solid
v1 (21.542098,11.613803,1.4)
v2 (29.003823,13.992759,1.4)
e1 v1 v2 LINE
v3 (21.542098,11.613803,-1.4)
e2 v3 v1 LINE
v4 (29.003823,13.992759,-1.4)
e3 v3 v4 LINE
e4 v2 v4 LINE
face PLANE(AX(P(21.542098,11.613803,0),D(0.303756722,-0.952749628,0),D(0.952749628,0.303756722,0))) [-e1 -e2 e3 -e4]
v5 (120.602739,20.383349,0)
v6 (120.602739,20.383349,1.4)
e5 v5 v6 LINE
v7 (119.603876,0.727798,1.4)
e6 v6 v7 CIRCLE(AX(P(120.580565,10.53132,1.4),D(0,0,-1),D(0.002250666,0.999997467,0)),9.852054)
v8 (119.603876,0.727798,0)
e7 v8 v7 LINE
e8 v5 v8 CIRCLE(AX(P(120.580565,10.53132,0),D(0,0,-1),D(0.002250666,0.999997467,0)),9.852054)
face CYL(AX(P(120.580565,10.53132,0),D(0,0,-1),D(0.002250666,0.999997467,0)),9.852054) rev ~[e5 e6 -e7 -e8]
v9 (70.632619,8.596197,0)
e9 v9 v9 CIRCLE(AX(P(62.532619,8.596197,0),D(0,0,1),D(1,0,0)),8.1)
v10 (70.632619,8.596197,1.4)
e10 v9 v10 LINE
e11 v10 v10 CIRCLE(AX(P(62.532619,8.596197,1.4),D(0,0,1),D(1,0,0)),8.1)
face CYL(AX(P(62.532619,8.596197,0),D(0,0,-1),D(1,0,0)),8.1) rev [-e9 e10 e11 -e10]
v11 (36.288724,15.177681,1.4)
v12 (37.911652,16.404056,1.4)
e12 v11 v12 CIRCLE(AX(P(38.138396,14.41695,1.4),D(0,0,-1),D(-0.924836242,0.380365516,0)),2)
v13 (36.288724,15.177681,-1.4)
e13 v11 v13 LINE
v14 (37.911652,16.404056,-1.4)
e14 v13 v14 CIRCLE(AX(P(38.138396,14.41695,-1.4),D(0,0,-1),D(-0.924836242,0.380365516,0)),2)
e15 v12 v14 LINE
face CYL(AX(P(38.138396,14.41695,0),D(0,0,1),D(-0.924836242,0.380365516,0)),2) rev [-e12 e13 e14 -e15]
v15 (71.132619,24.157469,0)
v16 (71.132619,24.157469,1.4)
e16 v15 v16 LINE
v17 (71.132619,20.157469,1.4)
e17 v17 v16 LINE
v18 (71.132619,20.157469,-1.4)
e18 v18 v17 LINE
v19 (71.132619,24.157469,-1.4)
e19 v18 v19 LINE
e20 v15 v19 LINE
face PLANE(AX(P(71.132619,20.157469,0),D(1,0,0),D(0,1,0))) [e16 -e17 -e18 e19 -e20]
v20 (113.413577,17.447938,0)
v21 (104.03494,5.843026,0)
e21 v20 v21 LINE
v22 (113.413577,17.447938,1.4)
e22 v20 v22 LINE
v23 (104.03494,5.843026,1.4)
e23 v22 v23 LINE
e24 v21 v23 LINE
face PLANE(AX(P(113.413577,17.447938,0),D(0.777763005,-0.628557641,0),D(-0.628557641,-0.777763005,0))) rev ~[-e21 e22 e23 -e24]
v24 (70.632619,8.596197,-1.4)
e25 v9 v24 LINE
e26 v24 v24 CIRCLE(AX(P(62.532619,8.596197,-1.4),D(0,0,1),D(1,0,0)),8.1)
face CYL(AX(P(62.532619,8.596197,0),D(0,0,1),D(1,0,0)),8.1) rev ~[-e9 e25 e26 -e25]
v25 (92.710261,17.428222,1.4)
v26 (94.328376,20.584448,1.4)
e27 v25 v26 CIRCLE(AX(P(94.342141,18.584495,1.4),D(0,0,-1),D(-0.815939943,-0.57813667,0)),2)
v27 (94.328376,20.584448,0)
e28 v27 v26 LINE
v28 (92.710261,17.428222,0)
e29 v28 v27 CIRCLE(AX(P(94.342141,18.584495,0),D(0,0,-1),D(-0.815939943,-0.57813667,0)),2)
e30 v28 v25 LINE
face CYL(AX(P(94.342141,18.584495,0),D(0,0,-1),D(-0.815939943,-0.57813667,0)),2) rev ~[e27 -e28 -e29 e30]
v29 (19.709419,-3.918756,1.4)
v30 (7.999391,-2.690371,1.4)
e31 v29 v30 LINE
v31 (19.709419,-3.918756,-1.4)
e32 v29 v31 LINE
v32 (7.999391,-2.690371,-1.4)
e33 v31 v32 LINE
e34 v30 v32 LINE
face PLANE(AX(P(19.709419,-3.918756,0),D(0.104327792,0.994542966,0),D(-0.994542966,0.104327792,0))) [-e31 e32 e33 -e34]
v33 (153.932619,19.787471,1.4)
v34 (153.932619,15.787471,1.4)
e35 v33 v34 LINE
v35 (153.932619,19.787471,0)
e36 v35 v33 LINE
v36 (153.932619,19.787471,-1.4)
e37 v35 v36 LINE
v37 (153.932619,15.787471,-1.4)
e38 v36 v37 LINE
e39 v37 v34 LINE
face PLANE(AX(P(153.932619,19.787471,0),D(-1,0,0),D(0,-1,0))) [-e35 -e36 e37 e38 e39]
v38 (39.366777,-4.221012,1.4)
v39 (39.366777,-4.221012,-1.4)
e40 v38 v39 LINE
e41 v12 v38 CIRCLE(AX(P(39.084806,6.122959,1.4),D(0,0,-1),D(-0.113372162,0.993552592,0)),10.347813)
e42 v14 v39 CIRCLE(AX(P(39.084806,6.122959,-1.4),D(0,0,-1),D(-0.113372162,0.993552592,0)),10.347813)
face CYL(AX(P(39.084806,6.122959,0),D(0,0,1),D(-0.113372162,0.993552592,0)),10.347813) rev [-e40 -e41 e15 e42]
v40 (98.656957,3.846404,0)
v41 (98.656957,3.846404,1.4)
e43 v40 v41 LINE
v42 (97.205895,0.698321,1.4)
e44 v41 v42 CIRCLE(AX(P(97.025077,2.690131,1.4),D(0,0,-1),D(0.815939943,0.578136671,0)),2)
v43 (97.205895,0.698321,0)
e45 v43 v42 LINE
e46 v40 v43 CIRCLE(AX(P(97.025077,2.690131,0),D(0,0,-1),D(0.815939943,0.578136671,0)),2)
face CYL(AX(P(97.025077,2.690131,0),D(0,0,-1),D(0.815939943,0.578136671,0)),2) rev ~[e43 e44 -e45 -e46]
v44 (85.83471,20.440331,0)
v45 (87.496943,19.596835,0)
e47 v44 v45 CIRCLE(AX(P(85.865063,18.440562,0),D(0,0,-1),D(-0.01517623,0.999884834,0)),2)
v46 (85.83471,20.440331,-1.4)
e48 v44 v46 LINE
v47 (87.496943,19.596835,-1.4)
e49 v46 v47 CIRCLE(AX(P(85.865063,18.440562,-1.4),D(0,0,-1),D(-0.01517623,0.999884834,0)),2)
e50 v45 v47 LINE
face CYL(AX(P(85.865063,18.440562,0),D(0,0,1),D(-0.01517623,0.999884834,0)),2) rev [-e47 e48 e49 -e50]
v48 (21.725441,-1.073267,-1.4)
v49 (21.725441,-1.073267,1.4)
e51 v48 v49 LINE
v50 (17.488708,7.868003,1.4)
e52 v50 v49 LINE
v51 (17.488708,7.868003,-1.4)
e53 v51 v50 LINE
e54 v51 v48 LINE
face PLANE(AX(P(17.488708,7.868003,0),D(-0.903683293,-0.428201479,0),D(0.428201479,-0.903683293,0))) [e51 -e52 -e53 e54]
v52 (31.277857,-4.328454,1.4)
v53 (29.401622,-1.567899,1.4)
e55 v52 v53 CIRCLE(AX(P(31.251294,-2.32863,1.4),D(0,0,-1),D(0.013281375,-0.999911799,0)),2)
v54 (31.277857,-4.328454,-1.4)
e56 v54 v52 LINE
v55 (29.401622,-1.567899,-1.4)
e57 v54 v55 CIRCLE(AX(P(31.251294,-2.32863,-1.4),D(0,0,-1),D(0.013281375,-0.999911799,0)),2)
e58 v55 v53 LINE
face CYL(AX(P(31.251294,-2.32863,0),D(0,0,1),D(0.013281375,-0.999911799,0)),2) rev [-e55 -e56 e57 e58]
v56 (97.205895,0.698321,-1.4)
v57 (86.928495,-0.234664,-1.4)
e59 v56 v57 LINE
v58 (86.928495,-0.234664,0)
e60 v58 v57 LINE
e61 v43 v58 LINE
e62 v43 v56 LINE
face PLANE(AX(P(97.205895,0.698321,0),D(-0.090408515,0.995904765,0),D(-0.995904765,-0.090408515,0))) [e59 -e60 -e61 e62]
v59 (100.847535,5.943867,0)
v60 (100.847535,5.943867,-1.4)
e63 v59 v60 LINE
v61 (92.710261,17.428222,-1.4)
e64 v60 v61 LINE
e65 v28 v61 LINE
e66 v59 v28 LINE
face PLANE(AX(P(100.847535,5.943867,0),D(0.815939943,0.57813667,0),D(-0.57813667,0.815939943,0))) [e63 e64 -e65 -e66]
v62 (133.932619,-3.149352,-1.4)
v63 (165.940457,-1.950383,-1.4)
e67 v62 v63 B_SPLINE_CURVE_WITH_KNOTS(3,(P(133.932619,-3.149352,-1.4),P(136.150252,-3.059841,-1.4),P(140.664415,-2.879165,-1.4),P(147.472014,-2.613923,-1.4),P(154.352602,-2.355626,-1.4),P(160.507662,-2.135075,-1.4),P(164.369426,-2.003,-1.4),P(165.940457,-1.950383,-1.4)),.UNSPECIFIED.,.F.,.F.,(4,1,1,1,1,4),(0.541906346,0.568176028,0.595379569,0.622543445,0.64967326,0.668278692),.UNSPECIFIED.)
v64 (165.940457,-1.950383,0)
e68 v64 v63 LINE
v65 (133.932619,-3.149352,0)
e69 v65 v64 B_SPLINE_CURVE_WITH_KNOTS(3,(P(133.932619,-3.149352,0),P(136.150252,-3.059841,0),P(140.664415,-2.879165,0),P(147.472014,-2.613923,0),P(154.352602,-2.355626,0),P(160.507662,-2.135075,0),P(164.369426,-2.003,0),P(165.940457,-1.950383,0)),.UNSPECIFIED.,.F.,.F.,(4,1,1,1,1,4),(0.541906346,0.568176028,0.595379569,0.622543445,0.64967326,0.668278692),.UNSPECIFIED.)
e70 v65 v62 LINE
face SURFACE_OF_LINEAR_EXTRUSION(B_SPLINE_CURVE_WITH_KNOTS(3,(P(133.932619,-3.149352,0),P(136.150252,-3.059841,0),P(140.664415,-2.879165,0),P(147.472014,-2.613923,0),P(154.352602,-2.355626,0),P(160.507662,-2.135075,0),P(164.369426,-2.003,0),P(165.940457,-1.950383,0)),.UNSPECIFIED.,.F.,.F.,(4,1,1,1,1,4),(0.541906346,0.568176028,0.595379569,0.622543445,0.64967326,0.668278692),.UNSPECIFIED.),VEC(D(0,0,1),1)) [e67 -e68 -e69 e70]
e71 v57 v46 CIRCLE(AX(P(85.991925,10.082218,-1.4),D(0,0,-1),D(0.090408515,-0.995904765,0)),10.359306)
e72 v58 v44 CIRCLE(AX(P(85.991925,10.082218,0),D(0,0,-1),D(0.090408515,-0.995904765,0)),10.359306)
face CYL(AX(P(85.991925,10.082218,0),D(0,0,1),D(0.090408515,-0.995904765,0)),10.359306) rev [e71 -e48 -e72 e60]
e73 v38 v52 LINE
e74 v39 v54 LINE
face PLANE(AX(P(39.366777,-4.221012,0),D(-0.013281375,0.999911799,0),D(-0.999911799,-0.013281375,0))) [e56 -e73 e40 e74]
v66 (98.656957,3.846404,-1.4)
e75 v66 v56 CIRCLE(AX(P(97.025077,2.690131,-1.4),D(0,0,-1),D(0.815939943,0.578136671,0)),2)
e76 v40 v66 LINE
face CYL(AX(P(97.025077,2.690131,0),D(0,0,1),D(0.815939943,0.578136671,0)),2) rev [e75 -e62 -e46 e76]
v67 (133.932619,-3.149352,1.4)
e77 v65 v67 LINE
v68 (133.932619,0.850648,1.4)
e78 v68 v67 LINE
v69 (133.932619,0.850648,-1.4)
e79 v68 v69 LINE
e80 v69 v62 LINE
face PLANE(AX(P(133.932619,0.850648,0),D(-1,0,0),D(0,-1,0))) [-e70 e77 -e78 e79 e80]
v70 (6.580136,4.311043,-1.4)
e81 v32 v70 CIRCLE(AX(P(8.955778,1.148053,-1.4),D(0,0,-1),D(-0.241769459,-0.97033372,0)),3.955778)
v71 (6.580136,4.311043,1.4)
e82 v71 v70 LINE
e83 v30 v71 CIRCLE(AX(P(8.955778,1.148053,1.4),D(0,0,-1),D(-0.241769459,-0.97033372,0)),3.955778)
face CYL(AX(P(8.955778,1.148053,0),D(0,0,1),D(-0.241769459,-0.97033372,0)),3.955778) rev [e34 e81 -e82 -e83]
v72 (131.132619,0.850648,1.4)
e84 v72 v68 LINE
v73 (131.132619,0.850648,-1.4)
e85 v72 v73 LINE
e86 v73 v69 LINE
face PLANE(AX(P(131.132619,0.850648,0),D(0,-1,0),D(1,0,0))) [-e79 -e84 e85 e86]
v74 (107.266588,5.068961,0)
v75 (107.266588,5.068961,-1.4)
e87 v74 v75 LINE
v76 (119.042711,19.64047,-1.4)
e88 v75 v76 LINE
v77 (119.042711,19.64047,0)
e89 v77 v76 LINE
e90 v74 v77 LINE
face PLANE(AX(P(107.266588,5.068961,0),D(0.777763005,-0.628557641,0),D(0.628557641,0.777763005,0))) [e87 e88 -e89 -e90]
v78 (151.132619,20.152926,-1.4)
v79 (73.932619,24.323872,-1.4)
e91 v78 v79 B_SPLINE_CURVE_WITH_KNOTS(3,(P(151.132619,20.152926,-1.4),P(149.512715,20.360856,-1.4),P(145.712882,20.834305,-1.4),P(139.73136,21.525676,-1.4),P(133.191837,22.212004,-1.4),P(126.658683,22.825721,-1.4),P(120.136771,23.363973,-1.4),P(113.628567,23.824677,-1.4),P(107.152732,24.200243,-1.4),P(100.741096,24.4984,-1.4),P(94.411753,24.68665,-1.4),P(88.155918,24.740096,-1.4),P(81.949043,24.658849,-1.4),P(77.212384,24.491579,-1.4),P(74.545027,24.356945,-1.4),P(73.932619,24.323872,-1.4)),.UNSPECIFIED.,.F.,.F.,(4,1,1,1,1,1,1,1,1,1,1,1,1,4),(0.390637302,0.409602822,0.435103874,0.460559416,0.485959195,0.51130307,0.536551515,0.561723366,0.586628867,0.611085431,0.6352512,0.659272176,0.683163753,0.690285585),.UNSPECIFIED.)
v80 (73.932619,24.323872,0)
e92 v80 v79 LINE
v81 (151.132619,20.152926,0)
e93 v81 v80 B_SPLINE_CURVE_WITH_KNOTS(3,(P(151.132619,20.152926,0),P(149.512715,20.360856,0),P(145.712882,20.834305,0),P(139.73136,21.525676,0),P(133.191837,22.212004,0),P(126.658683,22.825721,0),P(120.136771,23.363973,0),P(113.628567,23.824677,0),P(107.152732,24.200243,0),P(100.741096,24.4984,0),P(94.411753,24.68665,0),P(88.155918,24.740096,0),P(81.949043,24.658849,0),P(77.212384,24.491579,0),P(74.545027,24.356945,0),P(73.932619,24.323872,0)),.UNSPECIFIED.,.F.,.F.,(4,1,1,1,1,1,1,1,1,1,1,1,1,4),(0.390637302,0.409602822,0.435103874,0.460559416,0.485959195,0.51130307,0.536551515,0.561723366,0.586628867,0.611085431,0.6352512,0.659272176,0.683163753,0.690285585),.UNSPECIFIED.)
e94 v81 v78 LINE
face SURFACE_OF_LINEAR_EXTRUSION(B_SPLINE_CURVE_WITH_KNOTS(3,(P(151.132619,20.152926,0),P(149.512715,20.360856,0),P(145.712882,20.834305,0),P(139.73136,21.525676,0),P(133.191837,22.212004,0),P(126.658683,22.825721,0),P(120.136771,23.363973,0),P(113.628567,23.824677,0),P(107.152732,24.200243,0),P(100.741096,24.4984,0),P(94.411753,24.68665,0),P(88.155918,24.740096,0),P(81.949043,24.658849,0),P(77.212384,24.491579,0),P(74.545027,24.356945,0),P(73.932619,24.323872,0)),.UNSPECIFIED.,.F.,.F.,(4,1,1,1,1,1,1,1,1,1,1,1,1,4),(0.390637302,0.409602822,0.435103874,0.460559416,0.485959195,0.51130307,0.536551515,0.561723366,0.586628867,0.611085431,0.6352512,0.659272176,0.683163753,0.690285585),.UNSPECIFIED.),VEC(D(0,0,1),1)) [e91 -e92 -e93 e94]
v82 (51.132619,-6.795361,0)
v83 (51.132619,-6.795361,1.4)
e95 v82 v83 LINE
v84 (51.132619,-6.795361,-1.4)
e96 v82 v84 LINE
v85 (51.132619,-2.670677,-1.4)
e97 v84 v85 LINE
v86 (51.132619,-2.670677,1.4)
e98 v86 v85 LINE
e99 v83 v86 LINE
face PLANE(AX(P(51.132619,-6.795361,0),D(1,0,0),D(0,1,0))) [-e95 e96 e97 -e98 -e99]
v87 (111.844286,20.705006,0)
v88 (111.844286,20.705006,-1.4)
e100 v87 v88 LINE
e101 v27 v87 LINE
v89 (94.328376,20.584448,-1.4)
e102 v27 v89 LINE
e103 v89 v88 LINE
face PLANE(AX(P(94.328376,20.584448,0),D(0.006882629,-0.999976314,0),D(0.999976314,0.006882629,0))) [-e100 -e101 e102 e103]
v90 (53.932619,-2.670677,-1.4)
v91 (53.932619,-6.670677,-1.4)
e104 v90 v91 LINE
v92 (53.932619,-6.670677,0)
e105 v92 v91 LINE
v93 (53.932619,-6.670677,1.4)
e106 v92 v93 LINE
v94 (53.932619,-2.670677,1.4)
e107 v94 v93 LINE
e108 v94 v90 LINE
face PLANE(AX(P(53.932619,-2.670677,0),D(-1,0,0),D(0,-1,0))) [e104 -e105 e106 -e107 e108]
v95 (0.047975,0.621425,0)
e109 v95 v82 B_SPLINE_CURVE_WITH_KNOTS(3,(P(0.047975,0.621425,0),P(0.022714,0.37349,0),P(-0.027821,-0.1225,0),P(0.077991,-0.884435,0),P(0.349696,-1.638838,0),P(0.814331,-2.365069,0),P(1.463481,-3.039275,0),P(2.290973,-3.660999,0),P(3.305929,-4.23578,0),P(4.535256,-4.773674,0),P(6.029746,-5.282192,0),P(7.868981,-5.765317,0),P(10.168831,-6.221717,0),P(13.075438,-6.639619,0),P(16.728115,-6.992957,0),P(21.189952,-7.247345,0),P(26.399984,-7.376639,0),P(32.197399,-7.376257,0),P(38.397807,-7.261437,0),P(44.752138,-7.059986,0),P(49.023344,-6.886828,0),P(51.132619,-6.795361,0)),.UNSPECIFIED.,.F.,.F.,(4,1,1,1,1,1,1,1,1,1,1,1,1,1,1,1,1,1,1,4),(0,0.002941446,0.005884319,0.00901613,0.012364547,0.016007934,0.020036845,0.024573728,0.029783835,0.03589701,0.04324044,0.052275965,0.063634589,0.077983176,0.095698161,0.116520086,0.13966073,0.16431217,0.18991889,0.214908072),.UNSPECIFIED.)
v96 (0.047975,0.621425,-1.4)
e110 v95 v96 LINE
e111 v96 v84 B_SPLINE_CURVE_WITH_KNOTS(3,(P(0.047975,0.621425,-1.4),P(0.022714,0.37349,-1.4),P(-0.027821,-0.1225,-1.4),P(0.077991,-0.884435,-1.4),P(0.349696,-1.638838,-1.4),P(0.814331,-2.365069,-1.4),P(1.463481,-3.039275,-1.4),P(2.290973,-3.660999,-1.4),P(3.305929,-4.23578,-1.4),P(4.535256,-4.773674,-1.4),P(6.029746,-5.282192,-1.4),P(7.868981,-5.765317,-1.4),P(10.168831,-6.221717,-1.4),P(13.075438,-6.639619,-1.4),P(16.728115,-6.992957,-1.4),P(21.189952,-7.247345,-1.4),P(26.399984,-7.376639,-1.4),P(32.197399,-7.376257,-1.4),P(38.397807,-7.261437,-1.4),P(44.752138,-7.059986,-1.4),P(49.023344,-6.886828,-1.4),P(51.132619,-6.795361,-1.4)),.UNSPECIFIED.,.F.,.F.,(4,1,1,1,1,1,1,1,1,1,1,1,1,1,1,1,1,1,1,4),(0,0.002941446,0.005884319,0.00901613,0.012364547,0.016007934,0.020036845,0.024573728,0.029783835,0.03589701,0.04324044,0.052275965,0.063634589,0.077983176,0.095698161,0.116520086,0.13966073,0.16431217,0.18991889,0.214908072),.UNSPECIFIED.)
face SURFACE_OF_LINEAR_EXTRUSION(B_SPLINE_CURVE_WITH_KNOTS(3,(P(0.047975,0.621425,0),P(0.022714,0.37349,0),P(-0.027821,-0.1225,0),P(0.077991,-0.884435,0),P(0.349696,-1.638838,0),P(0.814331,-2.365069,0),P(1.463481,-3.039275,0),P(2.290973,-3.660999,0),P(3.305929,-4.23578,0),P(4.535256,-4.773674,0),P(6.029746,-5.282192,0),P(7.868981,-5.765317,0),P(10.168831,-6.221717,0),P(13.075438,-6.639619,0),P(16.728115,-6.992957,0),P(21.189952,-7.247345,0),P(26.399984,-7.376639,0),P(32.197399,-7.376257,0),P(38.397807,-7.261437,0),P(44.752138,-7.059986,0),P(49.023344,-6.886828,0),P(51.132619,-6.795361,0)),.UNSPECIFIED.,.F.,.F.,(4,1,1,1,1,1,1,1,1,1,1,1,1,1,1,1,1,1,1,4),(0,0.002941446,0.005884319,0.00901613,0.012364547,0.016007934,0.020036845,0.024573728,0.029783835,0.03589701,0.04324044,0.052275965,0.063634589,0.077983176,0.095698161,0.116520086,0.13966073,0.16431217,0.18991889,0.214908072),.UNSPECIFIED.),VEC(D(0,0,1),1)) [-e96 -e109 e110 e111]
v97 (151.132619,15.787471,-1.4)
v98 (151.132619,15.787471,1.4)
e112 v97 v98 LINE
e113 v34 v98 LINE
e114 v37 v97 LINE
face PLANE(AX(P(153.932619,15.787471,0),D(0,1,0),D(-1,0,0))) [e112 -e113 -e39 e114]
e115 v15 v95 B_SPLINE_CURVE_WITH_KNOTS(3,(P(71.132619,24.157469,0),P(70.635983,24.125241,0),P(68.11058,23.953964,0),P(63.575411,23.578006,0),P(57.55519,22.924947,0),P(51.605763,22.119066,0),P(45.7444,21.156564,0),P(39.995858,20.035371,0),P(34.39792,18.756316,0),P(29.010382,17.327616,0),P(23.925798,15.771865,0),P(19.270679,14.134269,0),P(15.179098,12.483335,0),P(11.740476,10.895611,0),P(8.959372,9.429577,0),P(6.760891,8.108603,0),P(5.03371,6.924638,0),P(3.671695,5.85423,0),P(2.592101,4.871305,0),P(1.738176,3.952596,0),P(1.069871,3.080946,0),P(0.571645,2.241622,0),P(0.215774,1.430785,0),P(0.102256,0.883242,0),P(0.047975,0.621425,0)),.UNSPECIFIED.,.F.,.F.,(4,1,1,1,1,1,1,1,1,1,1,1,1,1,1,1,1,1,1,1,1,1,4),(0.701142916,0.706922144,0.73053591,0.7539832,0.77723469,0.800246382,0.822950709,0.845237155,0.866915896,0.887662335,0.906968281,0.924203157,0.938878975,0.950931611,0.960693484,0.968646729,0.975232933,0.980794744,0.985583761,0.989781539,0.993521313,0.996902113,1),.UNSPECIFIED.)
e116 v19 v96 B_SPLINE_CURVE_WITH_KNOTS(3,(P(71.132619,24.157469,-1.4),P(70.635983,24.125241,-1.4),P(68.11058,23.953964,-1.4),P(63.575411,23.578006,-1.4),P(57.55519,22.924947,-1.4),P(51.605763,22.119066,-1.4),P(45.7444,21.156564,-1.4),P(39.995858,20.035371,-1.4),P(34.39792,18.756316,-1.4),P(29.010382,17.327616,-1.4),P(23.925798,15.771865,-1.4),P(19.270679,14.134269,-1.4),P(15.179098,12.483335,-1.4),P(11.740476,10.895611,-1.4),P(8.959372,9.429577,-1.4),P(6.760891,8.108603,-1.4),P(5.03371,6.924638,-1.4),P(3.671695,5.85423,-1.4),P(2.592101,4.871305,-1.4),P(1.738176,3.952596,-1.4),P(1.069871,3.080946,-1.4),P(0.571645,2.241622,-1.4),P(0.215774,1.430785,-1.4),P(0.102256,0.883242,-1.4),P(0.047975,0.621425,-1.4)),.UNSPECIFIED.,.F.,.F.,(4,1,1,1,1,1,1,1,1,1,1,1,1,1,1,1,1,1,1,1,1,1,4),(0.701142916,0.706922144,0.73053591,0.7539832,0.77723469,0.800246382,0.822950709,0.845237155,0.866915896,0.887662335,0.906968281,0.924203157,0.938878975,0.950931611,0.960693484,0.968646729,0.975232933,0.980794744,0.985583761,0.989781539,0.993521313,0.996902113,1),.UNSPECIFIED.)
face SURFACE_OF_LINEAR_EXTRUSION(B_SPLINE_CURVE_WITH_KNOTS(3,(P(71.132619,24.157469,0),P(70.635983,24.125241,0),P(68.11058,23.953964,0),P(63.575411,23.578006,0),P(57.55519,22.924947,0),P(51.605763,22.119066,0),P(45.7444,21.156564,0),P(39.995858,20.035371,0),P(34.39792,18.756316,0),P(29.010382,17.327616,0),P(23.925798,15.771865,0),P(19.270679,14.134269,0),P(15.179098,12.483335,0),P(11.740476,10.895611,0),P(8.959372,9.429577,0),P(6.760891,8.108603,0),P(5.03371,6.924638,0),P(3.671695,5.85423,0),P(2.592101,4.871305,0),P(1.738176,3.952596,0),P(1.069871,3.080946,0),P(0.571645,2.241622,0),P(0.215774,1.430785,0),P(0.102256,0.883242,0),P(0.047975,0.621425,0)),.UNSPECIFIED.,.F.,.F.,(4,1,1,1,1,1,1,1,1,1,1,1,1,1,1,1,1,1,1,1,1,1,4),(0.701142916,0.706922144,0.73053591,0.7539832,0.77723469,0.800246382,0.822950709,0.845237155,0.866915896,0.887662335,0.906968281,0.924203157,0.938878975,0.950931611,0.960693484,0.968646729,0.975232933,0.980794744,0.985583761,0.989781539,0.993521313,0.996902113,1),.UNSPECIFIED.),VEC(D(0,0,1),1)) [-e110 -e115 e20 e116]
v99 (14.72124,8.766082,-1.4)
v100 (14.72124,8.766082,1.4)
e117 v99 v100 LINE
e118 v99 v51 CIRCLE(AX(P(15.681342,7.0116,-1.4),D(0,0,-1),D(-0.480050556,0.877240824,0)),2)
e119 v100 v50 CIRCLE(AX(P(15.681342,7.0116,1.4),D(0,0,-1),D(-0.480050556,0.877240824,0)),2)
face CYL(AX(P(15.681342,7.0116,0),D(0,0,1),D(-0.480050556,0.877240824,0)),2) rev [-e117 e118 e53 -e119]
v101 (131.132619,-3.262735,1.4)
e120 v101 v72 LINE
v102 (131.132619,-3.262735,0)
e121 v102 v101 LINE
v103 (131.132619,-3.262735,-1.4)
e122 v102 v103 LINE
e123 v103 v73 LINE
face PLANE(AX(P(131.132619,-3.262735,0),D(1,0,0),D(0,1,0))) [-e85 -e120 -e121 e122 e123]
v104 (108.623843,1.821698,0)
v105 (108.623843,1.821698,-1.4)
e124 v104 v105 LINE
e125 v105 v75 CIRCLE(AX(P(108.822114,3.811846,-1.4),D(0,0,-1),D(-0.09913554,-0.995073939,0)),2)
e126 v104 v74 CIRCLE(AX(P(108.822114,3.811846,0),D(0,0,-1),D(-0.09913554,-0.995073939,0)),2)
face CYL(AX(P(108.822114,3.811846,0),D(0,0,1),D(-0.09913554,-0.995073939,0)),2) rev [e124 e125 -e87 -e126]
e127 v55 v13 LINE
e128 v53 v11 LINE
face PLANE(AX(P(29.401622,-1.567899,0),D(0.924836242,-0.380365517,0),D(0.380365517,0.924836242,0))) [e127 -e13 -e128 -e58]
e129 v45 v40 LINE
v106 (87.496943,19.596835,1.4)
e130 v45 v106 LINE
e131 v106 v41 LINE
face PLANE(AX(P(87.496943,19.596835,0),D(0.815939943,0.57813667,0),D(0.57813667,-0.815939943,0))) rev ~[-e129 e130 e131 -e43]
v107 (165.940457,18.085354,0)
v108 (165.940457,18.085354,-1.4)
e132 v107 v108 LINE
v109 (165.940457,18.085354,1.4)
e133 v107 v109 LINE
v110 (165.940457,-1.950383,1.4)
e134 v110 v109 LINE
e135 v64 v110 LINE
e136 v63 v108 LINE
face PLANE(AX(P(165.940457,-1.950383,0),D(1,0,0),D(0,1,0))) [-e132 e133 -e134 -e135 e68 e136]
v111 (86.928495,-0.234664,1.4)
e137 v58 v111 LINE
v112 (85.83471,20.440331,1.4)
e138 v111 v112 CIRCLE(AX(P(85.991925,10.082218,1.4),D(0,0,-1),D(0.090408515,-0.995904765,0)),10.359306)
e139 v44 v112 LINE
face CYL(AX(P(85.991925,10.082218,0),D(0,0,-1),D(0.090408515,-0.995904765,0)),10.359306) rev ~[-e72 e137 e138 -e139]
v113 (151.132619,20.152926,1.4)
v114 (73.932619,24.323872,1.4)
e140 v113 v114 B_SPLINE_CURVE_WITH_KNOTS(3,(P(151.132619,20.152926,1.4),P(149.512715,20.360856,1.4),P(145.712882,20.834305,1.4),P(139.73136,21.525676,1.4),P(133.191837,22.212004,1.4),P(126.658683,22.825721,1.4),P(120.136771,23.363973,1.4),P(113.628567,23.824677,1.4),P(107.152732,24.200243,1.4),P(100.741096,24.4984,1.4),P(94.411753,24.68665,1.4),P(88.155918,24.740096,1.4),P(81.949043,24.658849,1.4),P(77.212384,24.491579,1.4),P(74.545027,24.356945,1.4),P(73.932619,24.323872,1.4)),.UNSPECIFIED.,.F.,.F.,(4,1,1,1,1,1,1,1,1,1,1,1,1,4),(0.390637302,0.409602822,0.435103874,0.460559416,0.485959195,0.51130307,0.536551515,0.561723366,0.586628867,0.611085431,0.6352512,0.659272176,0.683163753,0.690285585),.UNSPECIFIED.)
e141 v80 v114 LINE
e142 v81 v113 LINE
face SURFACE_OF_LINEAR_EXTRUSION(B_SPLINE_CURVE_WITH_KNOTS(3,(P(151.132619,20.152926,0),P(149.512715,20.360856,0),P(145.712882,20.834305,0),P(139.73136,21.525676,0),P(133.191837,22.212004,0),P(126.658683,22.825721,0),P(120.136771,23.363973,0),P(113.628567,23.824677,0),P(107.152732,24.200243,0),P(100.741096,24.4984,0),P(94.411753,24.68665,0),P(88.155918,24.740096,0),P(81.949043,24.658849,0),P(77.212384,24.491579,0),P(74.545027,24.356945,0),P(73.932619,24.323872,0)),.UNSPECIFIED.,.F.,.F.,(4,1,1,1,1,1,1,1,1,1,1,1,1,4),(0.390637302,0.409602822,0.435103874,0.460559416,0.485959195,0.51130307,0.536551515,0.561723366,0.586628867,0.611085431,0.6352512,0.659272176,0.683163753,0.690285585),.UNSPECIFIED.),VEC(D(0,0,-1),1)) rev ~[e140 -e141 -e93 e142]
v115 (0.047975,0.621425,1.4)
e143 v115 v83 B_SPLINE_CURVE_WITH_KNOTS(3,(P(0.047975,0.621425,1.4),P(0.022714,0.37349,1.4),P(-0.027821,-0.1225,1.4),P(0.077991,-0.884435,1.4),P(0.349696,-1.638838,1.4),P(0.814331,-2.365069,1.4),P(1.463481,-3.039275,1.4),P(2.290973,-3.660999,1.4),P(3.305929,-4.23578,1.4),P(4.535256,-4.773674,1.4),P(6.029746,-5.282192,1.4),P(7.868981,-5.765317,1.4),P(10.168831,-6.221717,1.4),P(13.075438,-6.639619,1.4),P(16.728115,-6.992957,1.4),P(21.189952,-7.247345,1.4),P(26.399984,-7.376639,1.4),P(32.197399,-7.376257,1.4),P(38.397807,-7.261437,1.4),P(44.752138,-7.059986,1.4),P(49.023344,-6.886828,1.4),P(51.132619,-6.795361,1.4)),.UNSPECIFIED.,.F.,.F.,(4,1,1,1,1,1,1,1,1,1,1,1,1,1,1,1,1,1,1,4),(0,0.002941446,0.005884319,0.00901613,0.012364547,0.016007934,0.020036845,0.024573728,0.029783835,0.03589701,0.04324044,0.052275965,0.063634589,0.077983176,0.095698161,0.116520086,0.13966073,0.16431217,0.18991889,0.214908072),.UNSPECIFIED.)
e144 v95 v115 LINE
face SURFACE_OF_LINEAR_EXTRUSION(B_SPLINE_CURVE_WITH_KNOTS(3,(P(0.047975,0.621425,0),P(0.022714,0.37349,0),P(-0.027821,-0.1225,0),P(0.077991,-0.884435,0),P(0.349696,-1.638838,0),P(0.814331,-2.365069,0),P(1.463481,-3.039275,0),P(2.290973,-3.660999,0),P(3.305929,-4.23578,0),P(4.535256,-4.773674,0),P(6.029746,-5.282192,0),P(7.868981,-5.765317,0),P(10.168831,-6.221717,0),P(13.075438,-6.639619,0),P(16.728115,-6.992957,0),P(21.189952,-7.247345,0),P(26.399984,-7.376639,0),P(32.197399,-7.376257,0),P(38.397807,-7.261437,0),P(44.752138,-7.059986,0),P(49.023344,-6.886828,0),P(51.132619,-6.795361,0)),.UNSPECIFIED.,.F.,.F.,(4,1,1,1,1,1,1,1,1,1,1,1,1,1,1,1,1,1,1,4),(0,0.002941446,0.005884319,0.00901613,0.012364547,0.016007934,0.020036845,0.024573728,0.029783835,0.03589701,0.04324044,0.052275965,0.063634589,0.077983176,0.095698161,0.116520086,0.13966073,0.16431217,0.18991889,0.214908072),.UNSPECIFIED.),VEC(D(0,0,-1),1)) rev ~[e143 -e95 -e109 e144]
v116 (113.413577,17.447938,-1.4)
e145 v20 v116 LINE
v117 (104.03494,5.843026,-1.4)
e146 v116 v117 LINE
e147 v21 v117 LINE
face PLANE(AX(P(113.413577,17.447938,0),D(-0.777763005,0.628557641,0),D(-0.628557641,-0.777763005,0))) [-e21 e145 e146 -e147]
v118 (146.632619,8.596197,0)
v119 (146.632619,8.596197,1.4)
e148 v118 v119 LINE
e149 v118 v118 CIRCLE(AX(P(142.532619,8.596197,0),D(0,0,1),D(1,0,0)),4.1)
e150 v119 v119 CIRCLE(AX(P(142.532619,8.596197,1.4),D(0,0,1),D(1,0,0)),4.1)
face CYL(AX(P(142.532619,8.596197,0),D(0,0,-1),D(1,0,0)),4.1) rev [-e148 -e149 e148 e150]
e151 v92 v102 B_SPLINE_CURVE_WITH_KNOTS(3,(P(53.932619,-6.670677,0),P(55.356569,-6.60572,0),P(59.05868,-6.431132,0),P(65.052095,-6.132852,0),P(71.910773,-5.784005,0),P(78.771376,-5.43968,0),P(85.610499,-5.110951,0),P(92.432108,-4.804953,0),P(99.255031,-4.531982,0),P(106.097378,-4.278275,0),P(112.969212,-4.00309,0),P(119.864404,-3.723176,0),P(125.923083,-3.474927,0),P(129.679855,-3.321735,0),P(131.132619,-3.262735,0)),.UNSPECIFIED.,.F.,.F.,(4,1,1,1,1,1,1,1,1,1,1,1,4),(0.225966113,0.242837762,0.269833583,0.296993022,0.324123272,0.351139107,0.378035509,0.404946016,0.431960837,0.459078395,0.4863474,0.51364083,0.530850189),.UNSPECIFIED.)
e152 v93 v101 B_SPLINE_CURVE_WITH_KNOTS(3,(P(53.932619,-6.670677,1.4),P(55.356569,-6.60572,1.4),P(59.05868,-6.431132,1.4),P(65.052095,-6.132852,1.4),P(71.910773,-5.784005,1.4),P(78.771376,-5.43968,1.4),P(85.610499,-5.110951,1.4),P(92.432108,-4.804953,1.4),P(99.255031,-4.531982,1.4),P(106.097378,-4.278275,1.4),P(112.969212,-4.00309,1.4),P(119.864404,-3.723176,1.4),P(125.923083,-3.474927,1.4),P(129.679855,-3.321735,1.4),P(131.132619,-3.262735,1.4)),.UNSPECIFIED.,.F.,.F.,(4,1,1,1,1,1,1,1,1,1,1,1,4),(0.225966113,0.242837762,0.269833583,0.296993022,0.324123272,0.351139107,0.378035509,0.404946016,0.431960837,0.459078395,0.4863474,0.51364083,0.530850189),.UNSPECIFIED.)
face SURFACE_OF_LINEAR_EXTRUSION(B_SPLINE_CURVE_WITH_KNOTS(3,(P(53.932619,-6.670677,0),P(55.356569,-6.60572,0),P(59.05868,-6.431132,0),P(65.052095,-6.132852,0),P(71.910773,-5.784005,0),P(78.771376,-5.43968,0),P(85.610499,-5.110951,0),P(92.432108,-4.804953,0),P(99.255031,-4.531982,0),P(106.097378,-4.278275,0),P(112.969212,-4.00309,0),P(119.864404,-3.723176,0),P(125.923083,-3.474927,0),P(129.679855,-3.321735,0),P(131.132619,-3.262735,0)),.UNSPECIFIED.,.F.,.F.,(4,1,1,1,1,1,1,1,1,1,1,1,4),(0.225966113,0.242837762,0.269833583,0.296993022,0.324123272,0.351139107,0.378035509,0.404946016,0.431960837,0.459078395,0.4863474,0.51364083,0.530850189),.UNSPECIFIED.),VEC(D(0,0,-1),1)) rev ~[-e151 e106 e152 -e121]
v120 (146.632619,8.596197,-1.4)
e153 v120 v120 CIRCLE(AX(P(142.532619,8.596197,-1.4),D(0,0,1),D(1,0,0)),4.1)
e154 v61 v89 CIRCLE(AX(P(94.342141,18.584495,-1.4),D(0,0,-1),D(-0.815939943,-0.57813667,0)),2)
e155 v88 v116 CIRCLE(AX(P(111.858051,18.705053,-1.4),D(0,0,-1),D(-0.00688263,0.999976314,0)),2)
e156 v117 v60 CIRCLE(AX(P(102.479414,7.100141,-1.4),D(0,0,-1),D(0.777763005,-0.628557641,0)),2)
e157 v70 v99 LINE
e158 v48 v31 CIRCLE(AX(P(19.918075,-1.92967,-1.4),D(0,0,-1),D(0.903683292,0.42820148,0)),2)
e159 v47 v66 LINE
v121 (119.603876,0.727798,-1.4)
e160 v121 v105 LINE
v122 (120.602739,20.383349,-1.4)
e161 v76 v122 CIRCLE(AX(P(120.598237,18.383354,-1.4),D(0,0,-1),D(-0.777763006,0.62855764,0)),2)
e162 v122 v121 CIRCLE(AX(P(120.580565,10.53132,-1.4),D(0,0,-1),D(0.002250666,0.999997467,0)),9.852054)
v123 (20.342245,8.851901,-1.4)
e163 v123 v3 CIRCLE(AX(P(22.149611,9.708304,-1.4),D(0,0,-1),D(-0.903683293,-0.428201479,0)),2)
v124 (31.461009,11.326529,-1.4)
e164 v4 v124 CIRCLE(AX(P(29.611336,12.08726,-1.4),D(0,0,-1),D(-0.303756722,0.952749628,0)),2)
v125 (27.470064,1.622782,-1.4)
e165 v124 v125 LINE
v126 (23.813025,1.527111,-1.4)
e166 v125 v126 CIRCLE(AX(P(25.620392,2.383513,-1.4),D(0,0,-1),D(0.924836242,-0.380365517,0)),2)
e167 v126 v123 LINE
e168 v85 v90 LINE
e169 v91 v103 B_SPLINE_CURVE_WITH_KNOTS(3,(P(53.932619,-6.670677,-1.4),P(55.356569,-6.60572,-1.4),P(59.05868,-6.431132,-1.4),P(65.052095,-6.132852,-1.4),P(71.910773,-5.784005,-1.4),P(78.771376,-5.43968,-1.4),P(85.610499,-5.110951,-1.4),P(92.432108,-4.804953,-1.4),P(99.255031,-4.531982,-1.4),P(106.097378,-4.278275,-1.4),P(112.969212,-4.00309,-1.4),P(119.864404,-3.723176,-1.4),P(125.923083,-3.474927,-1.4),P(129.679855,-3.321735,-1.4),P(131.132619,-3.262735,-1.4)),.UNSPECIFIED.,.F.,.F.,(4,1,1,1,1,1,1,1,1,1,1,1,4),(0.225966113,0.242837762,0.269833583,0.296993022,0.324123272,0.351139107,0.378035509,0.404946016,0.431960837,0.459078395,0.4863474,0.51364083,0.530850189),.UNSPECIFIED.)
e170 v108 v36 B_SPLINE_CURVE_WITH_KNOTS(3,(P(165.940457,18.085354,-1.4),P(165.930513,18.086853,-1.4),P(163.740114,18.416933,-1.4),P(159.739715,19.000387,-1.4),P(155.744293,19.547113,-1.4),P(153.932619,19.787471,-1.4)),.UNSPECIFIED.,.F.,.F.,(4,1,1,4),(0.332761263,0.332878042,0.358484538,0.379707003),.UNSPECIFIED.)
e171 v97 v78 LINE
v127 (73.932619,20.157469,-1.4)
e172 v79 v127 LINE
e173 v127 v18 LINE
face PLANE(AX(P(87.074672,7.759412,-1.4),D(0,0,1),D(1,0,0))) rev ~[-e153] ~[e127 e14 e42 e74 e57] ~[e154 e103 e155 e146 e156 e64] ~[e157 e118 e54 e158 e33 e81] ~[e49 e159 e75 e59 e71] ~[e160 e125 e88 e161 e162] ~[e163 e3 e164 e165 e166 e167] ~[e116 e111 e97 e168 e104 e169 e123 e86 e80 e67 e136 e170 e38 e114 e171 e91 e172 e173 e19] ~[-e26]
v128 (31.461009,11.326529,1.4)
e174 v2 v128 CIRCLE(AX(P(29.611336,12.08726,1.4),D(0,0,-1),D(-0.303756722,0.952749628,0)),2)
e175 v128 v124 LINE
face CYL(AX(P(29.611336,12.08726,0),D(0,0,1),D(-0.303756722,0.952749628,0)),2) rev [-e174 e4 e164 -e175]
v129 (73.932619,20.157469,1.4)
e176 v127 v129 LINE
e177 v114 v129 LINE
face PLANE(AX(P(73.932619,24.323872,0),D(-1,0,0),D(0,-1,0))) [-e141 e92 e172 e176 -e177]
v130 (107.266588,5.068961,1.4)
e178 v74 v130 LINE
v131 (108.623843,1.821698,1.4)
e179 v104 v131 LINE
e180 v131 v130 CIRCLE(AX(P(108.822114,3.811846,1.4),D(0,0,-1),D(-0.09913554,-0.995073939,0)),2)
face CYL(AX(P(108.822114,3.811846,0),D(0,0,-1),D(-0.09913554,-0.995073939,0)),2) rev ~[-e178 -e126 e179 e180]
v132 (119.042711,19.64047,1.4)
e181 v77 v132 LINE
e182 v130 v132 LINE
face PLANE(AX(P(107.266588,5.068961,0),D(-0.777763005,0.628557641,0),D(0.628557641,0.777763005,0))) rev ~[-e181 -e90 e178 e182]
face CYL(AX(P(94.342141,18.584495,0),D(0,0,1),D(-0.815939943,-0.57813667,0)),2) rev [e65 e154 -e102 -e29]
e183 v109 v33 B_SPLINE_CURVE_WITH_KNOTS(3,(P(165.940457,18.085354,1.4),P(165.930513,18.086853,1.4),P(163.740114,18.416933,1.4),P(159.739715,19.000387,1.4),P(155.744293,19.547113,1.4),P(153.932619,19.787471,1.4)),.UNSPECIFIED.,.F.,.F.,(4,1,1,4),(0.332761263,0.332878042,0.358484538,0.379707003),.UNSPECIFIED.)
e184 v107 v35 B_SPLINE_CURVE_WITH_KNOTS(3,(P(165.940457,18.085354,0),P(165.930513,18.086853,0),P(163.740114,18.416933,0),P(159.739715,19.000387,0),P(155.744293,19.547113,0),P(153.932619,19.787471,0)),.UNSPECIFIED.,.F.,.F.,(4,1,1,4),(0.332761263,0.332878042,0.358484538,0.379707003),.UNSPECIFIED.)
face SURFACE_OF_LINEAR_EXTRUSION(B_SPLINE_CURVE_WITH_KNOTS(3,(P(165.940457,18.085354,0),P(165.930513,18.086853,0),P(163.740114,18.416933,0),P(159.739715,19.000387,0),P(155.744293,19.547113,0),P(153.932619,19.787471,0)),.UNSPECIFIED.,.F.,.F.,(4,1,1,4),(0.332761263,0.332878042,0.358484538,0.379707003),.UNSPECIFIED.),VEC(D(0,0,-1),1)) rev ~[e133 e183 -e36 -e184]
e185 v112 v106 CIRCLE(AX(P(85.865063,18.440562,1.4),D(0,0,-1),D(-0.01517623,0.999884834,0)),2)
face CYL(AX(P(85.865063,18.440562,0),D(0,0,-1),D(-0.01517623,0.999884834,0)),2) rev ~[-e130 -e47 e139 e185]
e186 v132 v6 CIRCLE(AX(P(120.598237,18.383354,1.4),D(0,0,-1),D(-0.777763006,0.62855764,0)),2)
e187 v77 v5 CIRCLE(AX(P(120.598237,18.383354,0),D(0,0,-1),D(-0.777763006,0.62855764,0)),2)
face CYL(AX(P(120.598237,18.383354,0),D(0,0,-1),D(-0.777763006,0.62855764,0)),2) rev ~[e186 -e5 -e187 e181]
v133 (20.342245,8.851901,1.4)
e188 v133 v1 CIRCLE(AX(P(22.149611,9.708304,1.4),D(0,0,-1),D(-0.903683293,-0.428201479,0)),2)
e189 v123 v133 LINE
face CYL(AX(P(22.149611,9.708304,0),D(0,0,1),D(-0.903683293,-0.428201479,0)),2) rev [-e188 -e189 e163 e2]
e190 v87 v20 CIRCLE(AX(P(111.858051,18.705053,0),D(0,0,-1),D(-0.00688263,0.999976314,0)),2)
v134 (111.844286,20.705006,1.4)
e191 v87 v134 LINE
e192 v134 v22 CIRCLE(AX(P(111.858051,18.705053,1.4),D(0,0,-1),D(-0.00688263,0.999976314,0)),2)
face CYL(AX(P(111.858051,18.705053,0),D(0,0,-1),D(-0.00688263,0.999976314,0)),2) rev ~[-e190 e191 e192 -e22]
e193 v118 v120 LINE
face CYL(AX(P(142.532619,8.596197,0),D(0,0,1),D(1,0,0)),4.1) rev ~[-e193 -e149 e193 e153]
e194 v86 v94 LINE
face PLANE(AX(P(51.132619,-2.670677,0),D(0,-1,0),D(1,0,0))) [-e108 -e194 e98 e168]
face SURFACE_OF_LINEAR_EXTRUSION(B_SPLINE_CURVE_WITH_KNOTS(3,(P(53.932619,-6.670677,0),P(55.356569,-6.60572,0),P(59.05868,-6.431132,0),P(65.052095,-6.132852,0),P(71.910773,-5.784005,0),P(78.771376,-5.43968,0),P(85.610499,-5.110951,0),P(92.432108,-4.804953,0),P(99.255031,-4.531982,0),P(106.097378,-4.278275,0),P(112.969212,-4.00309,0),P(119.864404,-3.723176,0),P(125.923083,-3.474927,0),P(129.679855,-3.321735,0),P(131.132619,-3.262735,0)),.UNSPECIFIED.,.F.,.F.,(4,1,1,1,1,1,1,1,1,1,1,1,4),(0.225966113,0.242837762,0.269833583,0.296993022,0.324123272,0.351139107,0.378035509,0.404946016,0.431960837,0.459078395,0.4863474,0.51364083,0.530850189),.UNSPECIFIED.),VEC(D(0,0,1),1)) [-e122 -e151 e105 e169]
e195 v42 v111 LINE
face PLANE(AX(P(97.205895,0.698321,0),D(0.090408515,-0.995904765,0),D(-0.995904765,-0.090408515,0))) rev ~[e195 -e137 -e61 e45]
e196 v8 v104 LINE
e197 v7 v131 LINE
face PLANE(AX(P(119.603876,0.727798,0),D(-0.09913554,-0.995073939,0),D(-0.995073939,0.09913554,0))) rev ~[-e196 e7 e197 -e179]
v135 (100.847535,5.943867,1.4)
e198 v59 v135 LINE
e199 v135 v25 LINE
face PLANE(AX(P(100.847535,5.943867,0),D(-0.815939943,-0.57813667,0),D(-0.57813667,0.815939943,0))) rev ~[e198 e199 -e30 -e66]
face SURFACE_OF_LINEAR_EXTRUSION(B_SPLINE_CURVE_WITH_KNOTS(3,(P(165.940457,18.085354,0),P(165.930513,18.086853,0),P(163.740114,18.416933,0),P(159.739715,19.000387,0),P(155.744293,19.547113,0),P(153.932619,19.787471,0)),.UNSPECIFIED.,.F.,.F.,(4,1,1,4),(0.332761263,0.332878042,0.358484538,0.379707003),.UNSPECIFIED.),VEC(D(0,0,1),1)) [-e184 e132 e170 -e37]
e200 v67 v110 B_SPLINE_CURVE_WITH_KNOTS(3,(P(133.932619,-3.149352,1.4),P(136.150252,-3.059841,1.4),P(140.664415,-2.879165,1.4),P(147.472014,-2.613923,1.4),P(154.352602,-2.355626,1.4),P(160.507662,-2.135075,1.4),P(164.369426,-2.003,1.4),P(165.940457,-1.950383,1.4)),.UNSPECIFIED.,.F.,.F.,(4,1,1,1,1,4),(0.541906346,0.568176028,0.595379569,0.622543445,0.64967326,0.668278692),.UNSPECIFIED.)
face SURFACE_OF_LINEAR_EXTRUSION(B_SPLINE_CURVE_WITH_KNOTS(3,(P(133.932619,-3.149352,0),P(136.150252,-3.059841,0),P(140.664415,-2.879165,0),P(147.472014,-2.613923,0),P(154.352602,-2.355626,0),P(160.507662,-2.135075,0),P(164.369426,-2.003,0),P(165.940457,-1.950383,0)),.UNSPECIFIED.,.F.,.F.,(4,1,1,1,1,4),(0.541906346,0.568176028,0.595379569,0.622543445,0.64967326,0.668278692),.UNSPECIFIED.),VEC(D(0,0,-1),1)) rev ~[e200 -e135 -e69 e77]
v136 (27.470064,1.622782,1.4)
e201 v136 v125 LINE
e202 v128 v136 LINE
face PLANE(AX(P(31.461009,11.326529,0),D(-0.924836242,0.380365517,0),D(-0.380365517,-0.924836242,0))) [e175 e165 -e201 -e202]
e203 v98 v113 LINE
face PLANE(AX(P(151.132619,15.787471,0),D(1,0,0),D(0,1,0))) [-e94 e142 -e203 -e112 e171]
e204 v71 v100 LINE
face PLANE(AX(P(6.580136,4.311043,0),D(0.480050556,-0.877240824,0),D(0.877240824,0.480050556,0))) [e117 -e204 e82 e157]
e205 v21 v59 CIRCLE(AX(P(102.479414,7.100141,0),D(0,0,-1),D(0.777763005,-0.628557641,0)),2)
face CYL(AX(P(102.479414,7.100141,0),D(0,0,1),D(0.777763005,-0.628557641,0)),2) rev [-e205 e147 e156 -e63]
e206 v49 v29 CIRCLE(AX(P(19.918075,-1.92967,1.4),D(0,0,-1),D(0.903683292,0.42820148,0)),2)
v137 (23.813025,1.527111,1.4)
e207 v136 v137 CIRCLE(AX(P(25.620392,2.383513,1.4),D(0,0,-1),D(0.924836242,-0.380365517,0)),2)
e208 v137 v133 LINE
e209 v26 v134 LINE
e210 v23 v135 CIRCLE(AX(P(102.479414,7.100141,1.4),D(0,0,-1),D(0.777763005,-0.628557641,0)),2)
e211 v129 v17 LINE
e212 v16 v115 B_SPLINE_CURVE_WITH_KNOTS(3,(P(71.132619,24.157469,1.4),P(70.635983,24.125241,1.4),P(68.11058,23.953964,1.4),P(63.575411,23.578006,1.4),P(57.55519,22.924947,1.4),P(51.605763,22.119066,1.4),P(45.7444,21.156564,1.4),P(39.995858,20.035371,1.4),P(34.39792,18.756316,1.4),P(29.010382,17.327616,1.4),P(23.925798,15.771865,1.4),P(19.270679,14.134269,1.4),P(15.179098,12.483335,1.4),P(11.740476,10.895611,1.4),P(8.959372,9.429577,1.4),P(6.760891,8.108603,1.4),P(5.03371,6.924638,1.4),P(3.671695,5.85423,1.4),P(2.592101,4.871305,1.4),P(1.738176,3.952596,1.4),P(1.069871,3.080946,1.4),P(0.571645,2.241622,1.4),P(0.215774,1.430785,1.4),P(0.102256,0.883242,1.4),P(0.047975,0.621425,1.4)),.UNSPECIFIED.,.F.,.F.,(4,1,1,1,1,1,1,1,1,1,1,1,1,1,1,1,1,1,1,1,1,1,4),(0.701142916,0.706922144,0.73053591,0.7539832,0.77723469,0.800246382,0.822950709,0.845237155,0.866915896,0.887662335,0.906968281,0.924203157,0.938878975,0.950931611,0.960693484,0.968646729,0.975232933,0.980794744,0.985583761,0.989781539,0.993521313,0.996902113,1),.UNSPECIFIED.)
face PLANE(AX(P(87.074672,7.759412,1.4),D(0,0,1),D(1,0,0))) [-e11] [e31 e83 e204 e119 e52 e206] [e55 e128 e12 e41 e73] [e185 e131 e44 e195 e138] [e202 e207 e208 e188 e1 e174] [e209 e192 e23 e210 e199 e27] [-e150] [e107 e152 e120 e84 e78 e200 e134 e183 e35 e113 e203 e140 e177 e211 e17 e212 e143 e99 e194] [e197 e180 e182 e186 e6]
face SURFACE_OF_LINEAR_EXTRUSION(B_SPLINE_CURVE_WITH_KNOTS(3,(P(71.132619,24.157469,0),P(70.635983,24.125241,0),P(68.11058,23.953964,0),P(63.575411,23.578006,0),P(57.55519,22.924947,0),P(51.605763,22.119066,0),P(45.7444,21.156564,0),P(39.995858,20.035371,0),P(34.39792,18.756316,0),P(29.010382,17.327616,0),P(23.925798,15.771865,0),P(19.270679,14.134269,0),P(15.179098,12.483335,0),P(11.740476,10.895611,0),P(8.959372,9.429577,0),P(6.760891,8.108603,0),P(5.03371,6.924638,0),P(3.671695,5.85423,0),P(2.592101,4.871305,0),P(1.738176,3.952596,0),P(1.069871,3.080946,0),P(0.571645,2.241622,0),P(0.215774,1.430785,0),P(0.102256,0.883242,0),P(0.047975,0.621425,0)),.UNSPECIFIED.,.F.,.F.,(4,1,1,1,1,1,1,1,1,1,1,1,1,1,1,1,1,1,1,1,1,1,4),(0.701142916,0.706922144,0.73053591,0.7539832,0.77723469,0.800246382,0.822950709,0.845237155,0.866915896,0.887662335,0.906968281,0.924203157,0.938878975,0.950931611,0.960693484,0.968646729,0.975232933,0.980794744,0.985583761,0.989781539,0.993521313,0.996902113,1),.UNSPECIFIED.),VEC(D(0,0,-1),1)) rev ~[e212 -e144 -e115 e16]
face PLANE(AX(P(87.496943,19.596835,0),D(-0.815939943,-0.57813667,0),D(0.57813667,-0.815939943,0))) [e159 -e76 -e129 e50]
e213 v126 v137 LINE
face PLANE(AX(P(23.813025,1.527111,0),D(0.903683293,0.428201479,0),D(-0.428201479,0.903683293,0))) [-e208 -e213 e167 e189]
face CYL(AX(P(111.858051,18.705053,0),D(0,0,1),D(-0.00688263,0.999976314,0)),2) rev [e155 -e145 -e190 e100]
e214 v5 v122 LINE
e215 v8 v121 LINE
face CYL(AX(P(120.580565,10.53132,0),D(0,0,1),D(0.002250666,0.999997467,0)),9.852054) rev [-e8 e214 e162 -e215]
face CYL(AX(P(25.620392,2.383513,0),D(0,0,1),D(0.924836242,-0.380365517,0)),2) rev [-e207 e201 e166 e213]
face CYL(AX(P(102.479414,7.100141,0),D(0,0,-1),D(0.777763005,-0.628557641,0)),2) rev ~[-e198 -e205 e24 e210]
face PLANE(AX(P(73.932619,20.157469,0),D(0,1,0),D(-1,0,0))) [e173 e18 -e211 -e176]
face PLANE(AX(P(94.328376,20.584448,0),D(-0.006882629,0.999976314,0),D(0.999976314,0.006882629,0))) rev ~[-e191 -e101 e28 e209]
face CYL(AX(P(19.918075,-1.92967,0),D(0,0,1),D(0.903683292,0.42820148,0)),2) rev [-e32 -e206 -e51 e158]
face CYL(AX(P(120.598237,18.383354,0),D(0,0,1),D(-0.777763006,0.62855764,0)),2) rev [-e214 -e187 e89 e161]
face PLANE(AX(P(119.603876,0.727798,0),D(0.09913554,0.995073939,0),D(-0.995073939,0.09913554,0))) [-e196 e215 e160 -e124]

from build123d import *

# Parameters (mm, degrees)
SKETCH_2_R      = 8.1
SKETCH_2_R_2    = 4.1
EXTRUDE_2_DEPTH = 1.4


with BuildPart() as part:
    # Эскиз2 → Бобышка-Вытянуть2 (new, symmetric)
    with BuildSketch(Plane.XY):
        with BuildLine():
            Line((165.940456932, 7.493910357), (165.940456932, 18.08535451))
            add(Edge.make_bspline(
                [(165.940456927, 18.085354477), (165.930512982, 18.086853188), (163.740114219, 18.416932942), (159.739714866, 19.000386852), (155.744292591, 19.547112651), (153.932619318, 19.787470759)],
                knots=[0.332761263, 0.332761263, 0.332761263, 0.332761263, 0.332878042, 0.358484538, 0.379707003, 0.379707003, 0.379707003, 0.379707003], degree=3))
            Line((153.932619318, 19.787470759), (153.932619318, 15.787470759))
            Line((153.932619318, 15.787470759), (151.132619318, 15.787470759))
            Line((151.132619318, 15.787470759), (151.132619318, 20.152925753))
            add(Edge.make_bspline(
                [(151.132619318, 20.152925753), (149.51271539, 20.360855756), (145.712882211, 20.834305053), (139.731359791, 21.525676112), (133.19183673, 22.212004248), (126.658683026, 22.825721427), (120.136770918, 23.363973264), (113.62856714, 23.824677322), (107.152732037, 24.200242592), (100.741095693, 24.498399508), (94.411752715, 24.686649766), (88.155917993, 24.740095648), (81.949043055, 24.658849141), (77.212383792, 24.491578654), (74.545027167, 24.35694527), (73.932619318, 24.323871534)],
                knots=[0.390637302, 0.390637302, 0.390637302, 0.390637302, 0.409602822, 0.435103874, 0.460559416, 0.485959195, 0.51130307, 0.536551515, 0.561723366, 0.586628867, 0.611085431, 0.6352512, 0.659272176, 0.683163753, 0.690285585, 0.690285585, 0.690285585, 0.690285585], degree=3))
            Line((73.932619318, 24.323871534), (73.932619318, 20.157469486))
            Line((73.932619318, 20.157469486), (71.132619318, 20.157469486))
            Line((71.132619318, 20.157469486), (71.132619318, 24.157469486))
            add(Edge.make_bspline(
                [(71.132619318, 24.157469486), (70.635982629, 24.125241372), (68.110579653, 23.953963558), (63.575410502, 23.578006358), (57.555189551, 22.924946655), (51.605762689, 22.119065518), (45.744400312, 21.156564429), (39.995857594, 20.035371386), (34.397919843, 18.75631623), (29.010382104, 17.327615604), (23.925798409, 15.771864917), (19.27067884, 14.13426943), (15.179098392, 12.483335433), (11.740475791, 10.89561099), (8.959371869, 9.429577361), (6.760891181, 8.108603195), (5.033709749, 6.92463805), (3.671694934, 5.85422966), (2.592101124, 4.871305364), (1.738175669, 3.952595739), (1.069870831, 3.080946369), (0.571645411, 2.241622098), (0.2157739, 1.430785392), (0.102255582, 0.88324169), (0.047975001, 0.621424995)],
                knots=[0.701142916, 0.701142916, 0.701142916, 0.701142916, 0.706922144, 0.73053591, 0.7539832, 0.77723469, 0.800246382, 0.822950709, 0.845237155, 0.866915896, 0.887662335, 0.906968281, 0.924203157, 0.938878975, 0.950931611, 0.960693484, 0.968646729, 0.975232933, 0.980794744, 0.985583761, 0.989781539, 0.993521313, 0.996902113, 1, 1, 1, 1], degree=3))
            add(Edge.make_bspline(
                [(0.047975001, 0.621424995), (0.022713821, 0.373490081), (-0.027820788, -0.12249998), (0.077991213, -0.884434595), (0.349695651, -1.638838075), (0.814331136, -2.365068928), (1.463480781, -3.039275249), (2.290973018, -3.660999474), (3.305928751, -4.235779626), (4.53525562, -4.773674148), (6.029745689, -5.282192169), (7.868981216, -5.765316681), (10.168831393, -6.221716597), (13.07543819, -6.639618735), (16.728115364, -6.992956742), (21.189952097, -7.247345149), (26.399984417, -7.376638853), (32.197398565, -7.376256917), (38.39780676, -7.261436583), (44.752137938, -7.05998551), (49.023344092, -6.886827907), (51.132619318, -6.795360627)],
                knots=[0, 0, 0, 0, 0.002941446, 0.005884319, 0.00901613, 0.012364547, 0.016007934, 0.020036845, 0.024573728, 0.029783835, 0.03589701, 0.04324044, 0.052275965, 0.063634589, 0.077983176, 0.095698161, 0.116520086, 0.13966073, 0.16431217, 0.18991889, 0.214908072, 0.214908072, 0.214908072, 0.214908072], degree=3))
            Line((51.132619318, -6.795360627), (51.132619318, -2.670677263))
            Line((51.132619318, -2.670677263), (53.932619318, -2.670677263))
            Line((53.932619318, -2.670677263), (53.932619318, -6.670677263))
            add(Edge.make_bspline(
                [(53.932619318, -6.670677263), (55.356569482, -6.605720394), (59.058679651, -6.431131786), (65.052094606, -6.13285227), (71.91077271, -5.784005184), (78.771375577, -5.439680462), (85.61049861, -5.110951262), (92.43210759, -4.804953337), (99.255031191, -4.531981668), (106.097378406, -4.278274685), (112.969211681, -4.003089942), (119.864404255, -3.723176202), (125.92308308, -3.47492717), (129.679854903, -3.321735217), (131.132619318, -3.262735091)],
                knots=[0.225966113, 0.225966113, 0.225966113, 0.225966113, 0.242837762, 0.269833583, 0.296993022, 0.324123272, 0.351139107, 0.378035509, 0.404946016, 0.431960837, 0.459078395, 0.4863474, 0.51364083, 0.530850189, 0.530850189, 0.530850189, 0.530850189], degree=3))
            Line((131.132619318, -3.262735091), (131.132619318, 0.850647814))
            Line((131.132619318, 0.850647814), (133.932619318, 0.850647814))
            Line((133.932619318, 0.850647814), (133.932619318, -3.149352186))
            add(Edge.make_bspline(
                [(133.932619318, -3.149352186), (136.150252366, -3.05984138), (140.66441482, -2.879164577), (147.472013762, -2.613922958), (154.352602411, -2.355626415), (160.507662095, -2.135075484), (164.369425992, -2.00299999), (165.940456932, -1.950382964)],
                knots=[0.541906346, 0.541906346, 0.541906346, 0.541906346, 0.568176028, 0.595379569, 0.622543445, 0.64967326, 0.668278692, 0.668278692, 0.668278692, 0.668278692], degree=3))
            Line((165.940456932, -1.950382964), (165.940456932, 7.493910357))
        make_face()
        with BuildLine():
            ThreePointArc((14.721240391, 8.766081587), (16.29867531, 8.913940332), (17.488708089, 7.868002897))
            Line((17.488708089, 7.868002897), (21.725441093, -1.073266618))
            ThreePointArc((21.725441093, -1.073266618), (21.549996986, -3.085882804), (19.709418924, -3.918755509))
            Line((19.709418924, -3.918755509), (7.999391348, -2.690370853))
            ThreePointArc((7.999391348, -2.690370853), (5.078852056, 0.362162442), (6.580135706, 4.311042875))
            Line((6.580135706, 4.311042875), (14.721240391, 8.766081587))
        make_face(mode=Mode.SUBTRACT)
        with BuildLine():
            Line((23.813024955, 1.527110532), (20.342244628, 8.85190119))
            ThreePointArc((20.342244628, 8.85190119), (20.315234657, 10.50521233), (21.542097769, 11.613803404))
            Line((21.542097769, 11.613803404), (29.003823035, 13.992759157))
            ThreePointArc((29.003823035, 13.992759157), (31.082028751, 13.44264333), (31.461008962, 11.326528867))
            Line((31.461008962, 11.326528867), (27.470064023, 1.622782457))
            ThreePointArc((27.470064023, 1.622782457), (25.672695714, 0.384197539), (23.813024955, 1.527110532))
        make_face(mode=Mode.SUBTRACT)
        with BuildLine():
            ThreePointArc((31.277857225, -4.328453595), (29.59717908, -3.452864074), (29.401621993, -1.567898965))
            Line((29.401621993, -1.567898965), (36.28872379, 15.177681436))
            ThreePointArc((36.28872379, 15.177681436), (36.93262885, 16.01260855), (37.911651949, 16.404055587))
            ThreePointArc((37.911651949, 16.404055587), (49.40696202, 6.85120019), (39.366777065, -4.221012142))
            Line((39.366777065, -4.221012142), (31.277857225, -4.328453595))
        make_face(mode=Mode.SUBTRACT)
        with Locations((62.532619318, 8.596197208)):
            Circle(SKETCH_2_R, mode=Mode.SUBTRACT)
        with Locations((142.532619318, 8.596197208)):
            Circle(SKETCH_2_R_2, mode=Mode.SUBTRACT)
        with BuildLine():
            ThreePointArc((85.834710285, 20.440331448), (86.770100886, 20.22407123), (87.496942629, 19.59683512))
            Line((87.496942629, 19.59683512), (98.656957359, 3.846404038))
            ThreePointArc((98.656957359, 3.846404038), (98.841412786, 1.852917443), (97.205894504, 0.698321168))
            Line((97.205894504, 0.698321168), (86.928494978, -0.234664059))
            ThreePointArc((86.928494978, -0.234664059), (75.647085804, 9.534937552), (85.834710285, 20.440331448))
        make_face(mode=Mode.SUBTRACT)
        with BuildLine():
            ThreePointArc((108.623842739, 1.821697682), (106.976814232, 3.040567769), (107.26658781, 5.068960843))
            Line((107.26658781, 5.068960843), (119.042711354, 19.640469699))
            ThreePointArc((119.042711354, 19.640469699), (119.738361249, 20.189071191), (120.602738696, 20.383349351))
            ThreePointArc((120.602738696, 20.383349351), (130.419922424, 10.031300237), (119.603876283, 0.727797506))
            Line((119.603876283, 0.727797506), (108.623842739, 1.821697682))
        make_face(mode=Mode.SUBTRACT)
        with BuildLine():
            Line((100.847534604, 5.943867476), (92.710261403, 17.428221559))
            ThreePointArc((92.710261403, 17.428221559), (92.562400415, 19.496921566), (94.32837603, 20.584447529))
            Line((94.32837603, 20.584447529), (111.84428559, 20.7050059))
            ThreePointArc((111.84428559, 20.7050059), (113.659822033, 19.573166514), (113.413576859, 17.447937989))
            Line((113.413576859, 17.447937989), (104.034940499, 5.843025535))
            ThreePointArc((104.034940499, 5.843025535), (102.41617089, 5.101141005), (100.847534604, 5.943867476))
        make_face(mode=Mode.SUBTRACT)
    extrude(amount=EXTRUDE_2_DEPTH, both=True)


solid = part.part
